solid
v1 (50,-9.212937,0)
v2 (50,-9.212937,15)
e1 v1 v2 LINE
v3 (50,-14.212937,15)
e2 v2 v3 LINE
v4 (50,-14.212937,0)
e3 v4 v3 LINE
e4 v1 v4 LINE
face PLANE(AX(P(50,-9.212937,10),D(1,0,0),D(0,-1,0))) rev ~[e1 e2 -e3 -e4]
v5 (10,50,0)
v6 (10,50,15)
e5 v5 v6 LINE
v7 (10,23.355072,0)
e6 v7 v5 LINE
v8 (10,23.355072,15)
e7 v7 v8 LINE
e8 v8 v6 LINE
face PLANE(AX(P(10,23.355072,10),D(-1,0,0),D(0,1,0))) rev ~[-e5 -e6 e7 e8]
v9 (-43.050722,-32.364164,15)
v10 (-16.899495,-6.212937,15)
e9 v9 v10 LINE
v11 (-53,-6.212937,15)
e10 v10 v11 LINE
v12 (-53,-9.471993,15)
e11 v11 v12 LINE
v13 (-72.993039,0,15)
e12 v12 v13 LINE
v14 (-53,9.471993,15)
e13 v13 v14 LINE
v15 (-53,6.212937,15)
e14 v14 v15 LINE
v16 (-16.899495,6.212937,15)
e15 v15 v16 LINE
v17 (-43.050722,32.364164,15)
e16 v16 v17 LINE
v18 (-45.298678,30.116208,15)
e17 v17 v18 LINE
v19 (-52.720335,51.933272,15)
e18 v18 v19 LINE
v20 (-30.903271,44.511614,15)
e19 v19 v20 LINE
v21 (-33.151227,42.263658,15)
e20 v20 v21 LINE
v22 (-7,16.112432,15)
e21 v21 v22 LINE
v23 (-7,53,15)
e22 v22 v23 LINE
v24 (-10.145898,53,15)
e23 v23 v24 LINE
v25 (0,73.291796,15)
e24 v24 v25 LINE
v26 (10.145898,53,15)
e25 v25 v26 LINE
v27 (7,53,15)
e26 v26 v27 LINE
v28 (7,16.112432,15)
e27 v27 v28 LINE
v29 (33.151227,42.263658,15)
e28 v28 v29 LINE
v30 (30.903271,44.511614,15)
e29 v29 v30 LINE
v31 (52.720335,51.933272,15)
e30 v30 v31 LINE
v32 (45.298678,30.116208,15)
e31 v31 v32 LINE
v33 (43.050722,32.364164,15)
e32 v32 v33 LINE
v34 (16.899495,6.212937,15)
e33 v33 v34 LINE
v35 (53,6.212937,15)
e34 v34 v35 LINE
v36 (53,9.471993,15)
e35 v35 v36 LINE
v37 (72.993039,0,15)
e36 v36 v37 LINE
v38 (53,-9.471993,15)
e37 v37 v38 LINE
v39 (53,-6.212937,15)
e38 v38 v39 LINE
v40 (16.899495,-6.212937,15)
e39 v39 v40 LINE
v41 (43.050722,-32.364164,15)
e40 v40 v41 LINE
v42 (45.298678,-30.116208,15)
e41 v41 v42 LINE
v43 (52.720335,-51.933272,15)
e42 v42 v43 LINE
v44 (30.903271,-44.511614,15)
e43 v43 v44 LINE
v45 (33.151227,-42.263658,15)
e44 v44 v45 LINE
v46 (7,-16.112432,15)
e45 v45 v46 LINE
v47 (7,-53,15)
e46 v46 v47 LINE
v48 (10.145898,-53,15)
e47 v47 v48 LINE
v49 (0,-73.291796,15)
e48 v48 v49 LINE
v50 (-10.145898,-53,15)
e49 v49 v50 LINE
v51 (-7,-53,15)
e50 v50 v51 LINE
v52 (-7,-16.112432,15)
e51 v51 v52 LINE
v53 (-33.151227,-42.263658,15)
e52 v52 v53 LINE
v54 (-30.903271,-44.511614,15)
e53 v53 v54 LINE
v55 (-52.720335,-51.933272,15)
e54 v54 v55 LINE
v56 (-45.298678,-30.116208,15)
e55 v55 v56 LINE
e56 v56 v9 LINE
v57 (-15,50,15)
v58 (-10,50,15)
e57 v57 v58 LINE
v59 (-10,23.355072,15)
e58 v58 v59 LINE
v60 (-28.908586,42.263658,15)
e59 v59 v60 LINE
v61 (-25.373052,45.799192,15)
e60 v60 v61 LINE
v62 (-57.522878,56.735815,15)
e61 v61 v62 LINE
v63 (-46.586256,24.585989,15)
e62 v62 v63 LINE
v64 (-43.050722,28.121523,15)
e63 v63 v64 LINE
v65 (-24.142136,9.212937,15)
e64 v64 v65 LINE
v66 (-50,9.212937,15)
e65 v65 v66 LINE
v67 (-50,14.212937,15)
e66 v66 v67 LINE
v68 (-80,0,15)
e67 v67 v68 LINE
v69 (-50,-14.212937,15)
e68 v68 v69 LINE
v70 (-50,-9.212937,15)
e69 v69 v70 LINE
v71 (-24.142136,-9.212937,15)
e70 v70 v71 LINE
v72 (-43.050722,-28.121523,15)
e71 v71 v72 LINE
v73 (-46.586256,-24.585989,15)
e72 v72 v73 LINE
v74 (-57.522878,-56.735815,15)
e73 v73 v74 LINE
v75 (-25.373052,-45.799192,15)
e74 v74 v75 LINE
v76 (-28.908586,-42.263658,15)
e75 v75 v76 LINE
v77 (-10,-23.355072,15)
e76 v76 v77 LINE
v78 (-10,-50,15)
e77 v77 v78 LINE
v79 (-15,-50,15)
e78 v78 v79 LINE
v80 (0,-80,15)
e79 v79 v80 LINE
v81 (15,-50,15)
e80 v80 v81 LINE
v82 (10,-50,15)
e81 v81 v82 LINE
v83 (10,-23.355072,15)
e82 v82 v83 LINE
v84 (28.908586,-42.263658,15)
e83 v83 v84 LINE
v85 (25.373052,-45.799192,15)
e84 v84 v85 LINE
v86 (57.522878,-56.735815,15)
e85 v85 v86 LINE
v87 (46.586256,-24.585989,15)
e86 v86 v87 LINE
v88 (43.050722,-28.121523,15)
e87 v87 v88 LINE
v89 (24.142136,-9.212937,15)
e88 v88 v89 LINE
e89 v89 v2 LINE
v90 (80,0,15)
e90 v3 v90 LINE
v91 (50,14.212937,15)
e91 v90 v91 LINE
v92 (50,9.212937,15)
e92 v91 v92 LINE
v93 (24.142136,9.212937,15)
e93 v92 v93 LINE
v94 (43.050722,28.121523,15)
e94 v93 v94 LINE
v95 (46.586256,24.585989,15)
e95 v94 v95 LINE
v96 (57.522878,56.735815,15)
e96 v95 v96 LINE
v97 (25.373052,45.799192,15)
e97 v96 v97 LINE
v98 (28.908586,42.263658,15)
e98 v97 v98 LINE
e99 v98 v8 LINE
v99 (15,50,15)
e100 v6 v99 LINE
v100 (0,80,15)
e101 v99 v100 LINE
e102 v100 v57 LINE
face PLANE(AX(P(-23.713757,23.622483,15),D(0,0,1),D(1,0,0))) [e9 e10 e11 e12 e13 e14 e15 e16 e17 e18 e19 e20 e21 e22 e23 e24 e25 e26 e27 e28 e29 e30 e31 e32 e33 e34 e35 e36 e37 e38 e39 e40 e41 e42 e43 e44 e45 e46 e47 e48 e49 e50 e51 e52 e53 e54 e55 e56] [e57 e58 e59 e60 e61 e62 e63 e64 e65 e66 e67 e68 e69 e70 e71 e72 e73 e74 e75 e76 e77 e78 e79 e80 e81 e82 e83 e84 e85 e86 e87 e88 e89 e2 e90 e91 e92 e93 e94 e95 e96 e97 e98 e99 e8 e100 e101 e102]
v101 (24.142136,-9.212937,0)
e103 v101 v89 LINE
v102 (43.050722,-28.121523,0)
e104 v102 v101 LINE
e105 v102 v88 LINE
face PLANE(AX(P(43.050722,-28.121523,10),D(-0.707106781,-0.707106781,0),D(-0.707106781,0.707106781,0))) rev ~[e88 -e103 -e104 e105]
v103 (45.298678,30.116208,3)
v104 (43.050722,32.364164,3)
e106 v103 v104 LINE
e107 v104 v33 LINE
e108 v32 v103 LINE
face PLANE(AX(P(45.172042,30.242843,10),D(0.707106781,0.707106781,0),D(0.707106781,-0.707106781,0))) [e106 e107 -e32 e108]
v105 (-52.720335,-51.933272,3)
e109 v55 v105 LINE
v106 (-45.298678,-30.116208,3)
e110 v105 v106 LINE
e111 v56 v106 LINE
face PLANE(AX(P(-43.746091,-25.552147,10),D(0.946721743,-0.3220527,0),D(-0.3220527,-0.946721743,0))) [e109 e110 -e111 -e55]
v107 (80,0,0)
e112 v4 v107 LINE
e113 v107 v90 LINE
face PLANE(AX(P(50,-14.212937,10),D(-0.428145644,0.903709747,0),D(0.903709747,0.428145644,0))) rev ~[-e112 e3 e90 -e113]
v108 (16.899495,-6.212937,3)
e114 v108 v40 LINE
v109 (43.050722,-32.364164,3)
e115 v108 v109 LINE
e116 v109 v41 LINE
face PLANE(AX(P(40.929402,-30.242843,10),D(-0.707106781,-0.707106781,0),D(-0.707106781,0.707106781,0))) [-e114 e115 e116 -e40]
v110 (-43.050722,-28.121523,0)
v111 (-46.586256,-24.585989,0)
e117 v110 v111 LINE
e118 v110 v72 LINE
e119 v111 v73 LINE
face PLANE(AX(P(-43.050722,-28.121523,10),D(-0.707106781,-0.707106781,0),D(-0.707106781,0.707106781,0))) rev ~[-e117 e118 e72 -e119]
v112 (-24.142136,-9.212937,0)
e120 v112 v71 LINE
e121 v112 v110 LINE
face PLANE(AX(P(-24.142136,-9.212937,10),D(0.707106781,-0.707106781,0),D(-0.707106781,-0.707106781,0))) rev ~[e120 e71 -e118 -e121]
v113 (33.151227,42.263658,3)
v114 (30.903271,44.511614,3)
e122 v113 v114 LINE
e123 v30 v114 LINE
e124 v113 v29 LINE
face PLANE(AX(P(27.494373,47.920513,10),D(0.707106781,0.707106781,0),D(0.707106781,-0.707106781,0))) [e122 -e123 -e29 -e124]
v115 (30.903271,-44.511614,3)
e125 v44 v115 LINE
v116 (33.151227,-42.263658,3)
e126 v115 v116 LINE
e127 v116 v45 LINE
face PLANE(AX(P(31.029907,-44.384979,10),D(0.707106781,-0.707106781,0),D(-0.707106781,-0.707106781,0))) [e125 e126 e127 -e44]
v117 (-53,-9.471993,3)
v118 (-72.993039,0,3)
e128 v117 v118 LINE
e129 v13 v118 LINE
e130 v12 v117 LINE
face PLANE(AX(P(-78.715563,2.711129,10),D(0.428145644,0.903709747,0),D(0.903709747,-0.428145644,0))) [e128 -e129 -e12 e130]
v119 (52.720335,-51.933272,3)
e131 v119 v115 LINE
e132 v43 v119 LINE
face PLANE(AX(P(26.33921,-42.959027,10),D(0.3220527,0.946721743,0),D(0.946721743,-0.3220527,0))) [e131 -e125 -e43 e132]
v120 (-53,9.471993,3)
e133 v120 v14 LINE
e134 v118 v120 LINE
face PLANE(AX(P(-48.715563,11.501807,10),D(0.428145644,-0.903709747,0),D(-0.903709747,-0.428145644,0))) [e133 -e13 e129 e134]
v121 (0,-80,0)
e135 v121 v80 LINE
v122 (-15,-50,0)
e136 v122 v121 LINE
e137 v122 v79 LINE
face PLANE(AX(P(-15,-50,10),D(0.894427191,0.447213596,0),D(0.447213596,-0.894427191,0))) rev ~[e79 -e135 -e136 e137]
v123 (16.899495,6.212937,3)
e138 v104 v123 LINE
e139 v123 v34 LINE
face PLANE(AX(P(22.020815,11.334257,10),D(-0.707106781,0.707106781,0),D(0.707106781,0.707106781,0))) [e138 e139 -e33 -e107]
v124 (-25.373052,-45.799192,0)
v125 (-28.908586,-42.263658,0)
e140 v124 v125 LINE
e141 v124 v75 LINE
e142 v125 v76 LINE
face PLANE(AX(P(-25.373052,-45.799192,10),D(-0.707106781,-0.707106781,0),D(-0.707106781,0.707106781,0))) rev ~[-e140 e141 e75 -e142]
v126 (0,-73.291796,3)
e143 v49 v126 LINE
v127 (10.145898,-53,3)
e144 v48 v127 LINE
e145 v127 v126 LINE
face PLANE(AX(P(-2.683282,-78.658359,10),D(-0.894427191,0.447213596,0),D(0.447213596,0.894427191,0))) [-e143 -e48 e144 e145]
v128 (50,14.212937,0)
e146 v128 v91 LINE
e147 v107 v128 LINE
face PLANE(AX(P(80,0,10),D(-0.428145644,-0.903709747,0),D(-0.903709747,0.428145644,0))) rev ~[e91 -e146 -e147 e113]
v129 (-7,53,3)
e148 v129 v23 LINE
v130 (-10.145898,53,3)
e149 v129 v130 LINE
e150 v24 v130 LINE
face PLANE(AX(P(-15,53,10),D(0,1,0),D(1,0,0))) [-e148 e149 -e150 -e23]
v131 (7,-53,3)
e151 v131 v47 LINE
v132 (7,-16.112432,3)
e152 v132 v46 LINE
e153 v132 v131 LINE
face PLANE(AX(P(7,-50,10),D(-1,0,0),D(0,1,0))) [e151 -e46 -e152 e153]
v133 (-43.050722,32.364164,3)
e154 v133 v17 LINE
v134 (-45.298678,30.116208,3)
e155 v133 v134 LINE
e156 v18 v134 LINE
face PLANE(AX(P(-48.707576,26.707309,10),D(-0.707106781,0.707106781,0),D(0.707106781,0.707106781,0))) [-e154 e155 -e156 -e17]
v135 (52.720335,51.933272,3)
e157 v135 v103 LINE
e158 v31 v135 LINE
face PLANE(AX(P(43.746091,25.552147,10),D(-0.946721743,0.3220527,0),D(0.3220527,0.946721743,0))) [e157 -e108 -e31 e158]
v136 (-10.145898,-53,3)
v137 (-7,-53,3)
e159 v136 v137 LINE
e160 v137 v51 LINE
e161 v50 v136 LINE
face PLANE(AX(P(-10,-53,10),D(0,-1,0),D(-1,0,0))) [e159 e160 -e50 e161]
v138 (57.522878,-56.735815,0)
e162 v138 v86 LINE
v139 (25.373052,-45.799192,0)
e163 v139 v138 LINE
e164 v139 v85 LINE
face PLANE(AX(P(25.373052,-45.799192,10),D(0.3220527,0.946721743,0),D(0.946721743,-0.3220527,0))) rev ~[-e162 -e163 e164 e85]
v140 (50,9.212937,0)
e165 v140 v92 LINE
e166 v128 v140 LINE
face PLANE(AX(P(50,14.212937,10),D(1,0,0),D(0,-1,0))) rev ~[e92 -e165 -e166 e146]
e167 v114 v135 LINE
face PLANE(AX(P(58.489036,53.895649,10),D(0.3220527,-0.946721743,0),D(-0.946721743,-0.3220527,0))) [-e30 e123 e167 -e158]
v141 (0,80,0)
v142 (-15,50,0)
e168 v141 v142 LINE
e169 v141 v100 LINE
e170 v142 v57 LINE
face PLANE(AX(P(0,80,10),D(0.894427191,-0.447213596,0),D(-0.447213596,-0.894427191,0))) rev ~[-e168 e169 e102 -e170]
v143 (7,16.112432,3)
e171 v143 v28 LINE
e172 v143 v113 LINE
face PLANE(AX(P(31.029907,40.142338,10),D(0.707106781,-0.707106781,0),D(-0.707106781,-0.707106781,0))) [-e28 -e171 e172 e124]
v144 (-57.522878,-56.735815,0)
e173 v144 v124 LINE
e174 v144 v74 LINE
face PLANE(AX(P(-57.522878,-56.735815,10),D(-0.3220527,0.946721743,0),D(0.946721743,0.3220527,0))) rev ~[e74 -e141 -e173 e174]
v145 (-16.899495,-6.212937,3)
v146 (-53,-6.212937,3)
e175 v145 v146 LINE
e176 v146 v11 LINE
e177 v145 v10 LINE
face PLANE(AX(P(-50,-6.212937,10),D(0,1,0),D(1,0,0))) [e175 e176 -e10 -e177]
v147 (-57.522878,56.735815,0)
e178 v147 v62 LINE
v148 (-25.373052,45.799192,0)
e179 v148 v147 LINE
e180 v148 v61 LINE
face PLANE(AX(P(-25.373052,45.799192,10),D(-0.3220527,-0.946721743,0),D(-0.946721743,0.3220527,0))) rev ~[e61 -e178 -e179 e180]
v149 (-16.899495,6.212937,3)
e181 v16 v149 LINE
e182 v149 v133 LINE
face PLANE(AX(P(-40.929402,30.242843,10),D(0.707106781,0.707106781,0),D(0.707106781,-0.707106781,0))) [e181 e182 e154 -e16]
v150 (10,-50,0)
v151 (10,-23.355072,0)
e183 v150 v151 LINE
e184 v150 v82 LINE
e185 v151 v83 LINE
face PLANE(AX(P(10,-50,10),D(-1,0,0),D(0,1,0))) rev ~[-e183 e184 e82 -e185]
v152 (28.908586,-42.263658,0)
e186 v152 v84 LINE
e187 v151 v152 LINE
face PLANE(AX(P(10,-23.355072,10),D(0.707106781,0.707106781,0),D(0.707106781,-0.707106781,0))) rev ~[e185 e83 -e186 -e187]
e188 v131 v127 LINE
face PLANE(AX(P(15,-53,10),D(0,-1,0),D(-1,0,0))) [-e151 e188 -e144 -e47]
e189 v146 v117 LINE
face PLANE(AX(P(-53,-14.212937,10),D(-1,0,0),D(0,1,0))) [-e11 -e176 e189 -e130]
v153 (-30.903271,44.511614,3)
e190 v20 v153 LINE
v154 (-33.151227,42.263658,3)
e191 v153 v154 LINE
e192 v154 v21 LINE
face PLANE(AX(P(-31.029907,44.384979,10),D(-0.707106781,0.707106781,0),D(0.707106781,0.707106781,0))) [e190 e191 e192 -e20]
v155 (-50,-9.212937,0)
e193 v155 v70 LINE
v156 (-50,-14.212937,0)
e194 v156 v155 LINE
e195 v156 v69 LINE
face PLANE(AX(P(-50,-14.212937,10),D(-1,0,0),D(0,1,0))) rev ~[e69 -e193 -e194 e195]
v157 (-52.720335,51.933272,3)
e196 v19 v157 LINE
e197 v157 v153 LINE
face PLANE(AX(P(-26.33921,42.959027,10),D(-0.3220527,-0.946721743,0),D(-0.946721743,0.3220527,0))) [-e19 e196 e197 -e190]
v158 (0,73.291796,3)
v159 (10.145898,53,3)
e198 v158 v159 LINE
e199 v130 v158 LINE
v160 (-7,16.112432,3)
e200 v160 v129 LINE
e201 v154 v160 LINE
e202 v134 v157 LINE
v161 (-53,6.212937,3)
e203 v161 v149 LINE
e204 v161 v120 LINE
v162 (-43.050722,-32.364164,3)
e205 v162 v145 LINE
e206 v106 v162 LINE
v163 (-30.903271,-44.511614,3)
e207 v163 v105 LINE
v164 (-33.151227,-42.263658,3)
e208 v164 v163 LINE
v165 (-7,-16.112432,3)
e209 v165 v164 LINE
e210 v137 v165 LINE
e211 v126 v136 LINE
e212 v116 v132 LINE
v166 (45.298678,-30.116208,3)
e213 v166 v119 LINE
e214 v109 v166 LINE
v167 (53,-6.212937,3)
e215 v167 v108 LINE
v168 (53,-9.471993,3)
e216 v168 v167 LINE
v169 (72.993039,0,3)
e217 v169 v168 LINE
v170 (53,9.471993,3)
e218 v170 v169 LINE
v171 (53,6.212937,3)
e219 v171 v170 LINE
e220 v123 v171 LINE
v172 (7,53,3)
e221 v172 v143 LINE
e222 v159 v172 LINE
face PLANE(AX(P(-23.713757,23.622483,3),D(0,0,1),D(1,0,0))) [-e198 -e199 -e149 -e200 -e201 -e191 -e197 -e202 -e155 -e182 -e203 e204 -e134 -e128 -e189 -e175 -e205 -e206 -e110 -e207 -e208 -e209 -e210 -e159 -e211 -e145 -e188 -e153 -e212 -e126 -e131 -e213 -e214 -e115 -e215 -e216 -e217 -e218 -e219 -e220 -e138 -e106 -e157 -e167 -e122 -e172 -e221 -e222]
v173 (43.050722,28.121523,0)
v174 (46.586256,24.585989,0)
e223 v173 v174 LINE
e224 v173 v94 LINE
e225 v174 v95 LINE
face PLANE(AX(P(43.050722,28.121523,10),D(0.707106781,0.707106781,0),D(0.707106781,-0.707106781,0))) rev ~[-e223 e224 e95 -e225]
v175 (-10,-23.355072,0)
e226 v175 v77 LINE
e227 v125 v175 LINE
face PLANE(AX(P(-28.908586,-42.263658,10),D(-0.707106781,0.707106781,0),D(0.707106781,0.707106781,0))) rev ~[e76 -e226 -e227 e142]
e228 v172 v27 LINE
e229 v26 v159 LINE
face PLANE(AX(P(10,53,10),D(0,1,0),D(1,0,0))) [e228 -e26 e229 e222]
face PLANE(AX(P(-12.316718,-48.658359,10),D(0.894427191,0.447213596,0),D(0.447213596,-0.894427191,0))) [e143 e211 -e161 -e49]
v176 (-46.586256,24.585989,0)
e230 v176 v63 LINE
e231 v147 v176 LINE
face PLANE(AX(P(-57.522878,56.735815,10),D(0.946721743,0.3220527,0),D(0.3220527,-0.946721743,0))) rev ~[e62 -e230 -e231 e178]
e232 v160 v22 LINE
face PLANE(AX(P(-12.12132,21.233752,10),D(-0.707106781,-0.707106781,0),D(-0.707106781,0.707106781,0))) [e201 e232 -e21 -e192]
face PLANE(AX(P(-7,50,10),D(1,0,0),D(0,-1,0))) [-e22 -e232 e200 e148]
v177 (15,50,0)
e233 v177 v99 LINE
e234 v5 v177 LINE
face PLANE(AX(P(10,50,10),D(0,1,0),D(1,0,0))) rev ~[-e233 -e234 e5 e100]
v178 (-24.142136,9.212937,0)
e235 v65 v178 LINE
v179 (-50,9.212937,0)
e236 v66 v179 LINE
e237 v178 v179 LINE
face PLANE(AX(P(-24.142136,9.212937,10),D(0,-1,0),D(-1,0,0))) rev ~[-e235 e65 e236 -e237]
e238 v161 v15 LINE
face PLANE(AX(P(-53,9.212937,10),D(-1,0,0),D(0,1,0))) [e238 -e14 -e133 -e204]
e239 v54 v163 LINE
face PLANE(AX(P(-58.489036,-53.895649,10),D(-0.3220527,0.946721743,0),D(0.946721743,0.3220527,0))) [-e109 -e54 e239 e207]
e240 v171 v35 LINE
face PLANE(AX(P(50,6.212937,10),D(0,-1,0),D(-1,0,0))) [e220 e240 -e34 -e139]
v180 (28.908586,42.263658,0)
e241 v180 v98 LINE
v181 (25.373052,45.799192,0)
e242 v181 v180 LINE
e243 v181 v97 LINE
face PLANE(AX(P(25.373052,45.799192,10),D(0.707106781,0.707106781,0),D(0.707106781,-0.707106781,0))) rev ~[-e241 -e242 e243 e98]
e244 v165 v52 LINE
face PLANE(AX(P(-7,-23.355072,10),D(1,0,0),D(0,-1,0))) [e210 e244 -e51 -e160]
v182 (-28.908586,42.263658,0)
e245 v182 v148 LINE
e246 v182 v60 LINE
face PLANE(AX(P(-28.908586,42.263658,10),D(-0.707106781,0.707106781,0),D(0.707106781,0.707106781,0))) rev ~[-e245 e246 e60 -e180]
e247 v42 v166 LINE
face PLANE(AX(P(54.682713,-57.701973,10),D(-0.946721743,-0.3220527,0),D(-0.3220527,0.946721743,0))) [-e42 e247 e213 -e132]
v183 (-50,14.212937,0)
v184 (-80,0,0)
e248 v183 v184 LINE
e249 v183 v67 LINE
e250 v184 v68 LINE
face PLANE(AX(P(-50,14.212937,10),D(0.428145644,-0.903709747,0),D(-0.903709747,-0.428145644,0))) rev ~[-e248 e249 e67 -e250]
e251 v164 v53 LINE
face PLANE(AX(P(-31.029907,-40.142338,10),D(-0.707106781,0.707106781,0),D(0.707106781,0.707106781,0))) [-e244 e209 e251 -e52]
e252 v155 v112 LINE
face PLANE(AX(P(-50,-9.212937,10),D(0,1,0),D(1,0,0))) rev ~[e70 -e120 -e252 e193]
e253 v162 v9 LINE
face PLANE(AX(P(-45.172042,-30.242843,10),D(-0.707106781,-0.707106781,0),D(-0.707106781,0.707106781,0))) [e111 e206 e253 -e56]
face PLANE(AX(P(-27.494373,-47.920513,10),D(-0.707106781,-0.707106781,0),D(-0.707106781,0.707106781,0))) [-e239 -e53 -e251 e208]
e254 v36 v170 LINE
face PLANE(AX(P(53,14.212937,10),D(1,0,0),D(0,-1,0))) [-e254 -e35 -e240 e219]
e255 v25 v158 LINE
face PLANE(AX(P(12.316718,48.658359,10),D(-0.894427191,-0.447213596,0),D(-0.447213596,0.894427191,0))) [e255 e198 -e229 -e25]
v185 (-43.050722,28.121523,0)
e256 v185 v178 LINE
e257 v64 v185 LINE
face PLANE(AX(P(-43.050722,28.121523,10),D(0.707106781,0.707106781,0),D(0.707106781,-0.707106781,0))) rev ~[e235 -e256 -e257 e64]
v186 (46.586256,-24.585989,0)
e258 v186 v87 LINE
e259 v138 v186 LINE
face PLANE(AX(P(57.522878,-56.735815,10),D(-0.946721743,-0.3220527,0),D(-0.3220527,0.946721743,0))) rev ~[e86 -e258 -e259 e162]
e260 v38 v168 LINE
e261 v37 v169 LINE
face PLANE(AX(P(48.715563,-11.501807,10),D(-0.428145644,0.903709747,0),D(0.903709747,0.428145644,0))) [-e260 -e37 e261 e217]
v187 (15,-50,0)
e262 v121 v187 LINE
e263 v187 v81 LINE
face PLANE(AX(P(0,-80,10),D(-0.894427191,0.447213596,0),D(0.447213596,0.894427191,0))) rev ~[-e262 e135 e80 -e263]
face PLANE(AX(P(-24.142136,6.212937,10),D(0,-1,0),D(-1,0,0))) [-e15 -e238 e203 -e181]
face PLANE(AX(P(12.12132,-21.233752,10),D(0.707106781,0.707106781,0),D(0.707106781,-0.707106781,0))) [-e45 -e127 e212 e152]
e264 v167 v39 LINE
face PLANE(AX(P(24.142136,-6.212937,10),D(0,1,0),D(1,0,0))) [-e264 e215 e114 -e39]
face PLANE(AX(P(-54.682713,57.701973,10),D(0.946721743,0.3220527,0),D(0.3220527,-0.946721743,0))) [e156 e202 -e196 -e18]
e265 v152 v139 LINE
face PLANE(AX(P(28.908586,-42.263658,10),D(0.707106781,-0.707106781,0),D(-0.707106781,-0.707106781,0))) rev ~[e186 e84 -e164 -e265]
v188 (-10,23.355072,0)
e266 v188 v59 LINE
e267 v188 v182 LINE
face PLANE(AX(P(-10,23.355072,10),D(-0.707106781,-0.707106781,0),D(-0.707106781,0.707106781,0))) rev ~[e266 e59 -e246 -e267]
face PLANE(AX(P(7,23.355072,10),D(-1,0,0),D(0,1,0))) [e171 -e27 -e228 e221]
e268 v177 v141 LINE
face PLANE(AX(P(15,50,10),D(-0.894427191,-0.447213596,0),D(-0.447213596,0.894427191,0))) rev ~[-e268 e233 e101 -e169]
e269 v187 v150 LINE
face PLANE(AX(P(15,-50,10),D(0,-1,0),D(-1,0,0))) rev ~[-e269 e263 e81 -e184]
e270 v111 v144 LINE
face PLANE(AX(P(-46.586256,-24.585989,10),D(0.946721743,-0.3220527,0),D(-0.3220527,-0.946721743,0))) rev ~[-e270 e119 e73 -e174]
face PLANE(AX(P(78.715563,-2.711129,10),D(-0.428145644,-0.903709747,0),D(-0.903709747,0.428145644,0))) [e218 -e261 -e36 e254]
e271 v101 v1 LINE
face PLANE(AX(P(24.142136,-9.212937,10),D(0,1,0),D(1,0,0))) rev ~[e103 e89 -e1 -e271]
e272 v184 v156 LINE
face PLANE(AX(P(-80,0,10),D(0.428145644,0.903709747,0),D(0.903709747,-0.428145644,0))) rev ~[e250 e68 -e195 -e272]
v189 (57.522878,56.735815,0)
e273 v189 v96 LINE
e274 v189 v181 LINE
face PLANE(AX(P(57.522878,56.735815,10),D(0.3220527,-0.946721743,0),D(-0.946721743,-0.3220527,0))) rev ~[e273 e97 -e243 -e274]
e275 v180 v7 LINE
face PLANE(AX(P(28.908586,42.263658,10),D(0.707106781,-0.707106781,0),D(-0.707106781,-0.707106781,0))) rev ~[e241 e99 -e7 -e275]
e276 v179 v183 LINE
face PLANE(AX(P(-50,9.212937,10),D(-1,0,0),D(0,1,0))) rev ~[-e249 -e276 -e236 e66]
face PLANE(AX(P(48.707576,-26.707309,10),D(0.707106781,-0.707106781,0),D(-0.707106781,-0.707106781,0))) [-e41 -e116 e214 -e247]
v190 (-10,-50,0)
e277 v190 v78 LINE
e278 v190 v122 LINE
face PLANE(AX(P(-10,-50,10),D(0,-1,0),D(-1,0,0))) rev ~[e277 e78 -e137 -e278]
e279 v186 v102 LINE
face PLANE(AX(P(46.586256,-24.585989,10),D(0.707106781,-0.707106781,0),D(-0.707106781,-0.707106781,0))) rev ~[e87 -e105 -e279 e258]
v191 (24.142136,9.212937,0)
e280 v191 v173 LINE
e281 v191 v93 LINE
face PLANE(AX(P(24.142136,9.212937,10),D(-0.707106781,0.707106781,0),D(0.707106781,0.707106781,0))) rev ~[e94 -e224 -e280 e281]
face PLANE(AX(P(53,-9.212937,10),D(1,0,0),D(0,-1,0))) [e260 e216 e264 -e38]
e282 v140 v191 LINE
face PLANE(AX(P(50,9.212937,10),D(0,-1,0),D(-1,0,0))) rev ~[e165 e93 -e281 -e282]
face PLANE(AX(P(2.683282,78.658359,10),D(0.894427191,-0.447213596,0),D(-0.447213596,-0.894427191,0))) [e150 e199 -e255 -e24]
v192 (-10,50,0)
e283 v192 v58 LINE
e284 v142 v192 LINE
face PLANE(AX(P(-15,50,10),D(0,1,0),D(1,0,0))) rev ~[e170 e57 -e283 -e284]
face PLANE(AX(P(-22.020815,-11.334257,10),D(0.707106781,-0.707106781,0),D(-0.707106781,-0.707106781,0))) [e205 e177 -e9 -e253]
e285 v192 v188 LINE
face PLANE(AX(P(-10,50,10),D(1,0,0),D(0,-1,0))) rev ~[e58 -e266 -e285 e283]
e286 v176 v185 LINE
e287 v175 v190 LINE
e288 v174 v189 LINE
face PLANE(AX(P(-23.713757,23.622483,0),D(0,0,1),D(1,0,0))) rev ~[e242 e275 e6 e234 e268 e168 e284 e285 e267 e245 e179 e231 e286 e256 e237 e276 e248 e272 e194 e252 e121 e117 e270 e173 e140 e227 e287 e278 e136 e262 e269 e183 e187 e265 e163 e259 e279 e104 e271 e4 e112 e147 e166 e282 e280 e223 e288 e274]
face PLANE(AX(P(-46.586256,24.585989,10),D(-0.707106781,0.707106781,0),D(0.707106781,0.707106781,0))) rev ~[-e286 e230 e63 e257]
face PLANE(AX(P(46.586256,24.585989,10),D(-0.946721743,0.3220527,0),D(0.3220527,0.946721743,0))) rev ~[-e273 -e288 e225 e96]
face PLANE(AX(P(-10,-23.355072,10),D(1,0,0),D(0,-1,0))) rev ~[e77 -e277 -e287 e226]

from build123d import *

# Parameters (mm, degrees)
F1_DEPTH = 10
F2_DEPTH = 5
F3_T     = -3


with BuildPart() as f1:
    # F0 (on Top) → F1 (new body)
    with BuildSketch(Plane.XY):
        Polygon((-24.1421356237, 9.2129365882), (-50, 9.2129365882), (-50, 14.2129365882), (-80, 0), (-50, 0), (0, 0), (0, 50), (0, 80), (-15, 50), (-10, 50), (-10, 23.3550722119), (-10, 9.2129365882), align=None)
        Polygon((-43.0507218531, 28.1215228176), (-24.1421356237, 9.2129365882), (-10, 9.2129365882), (-35.9796540413, 35.1925906294), align=None)
        Polygon((-35.9796540413, 35.1925906294), (-10, 9.2129365882), (-10, 23.3550722119), (-28.9085862294, 42.2636584413), align=None)
        Polygon((-46.5862557591, 24.5859889116), (-43.0507218531, 28.1215228176), (-35.9796540413, 35.1925906294), (-57.5228781318, 56.73581472), align=None)
        Polygon((-50, 0), (-80, 0), (-50, -14.2129365882), (-50, -9.2129365882), (-24.1421356237, -9.2129365882), (-10, -9.2129365882), (-10, -23.3550722119), (-10, -50), (-15, -50), (0, -80), (0, -50), (0, 0), align=None)
        Polygon((-57.5228781318, 56.73581472), (-35.9796540413, 35.1925906294), (-28.9085862294, 42.2636584413), (-25.3730523235, 45.7991923472), align=None)
        Polygon((0, 50), (0, 0), (50, 0), (80, 0), (50, 14.2129365882), (50, 9.2129365882), (24.1421356237, 9.2129365882), (10, 9.2129365882), (10, 23.3550722119), (10, 50), (15, 50), (0, 80), align=None)
        Polygon((50, 0), (0, 0), (0, -50), (0, -80), (15, -50), (10, -50), (10, -23.3550722119), (10, -9.2129365882), (24.1421356237, -9.2129365882), (50, -9.2129365882), (50, -14.2129365882), (80, 0), align=None)
        Polygon((-10, -9.2129365882), (-24.1421356237, -9.2129365882), (-43.0507218531, -28.1215228176), (-35.9796540413, -35.1925906294), align=None)
        Polygon((-10, -23.3550722119), (-10, -9.2129365882), (-35.9796540413, -35.1925906294), (-28.9085862294, -42.2636584413), align=None)
        Polygon((-35.9796540413, -35.1925906294), (-43.0507218531, -28.1215228176), (-46.5862557591, -24.5859889116), (-57.5228781318, -56.73581472), align=None)
        Polygon((-28.9085862294, -42.2636584413), (-35.9796540413, -35.1925906294), (-57.5228781318, -56.73581472), (-25.3730523235, -45.7991923472), align=None)
        Polygon((28.9085862294, 42.2636584413), (10, 23.3550722119), (10, 9.2129365882), (35.9796540413, 35.1925906294), align=None)
        Polygon((10, 9.2129365882), (24.1421356237, 9.2129365882), (43.0507218531, 28.1215228176), (35.9796540413, 35.1925906294), align=None)
        Polygon((43.0507218531, -28.1215228176), (24.1421356237, -9.2129365882), (10, -9.2129365882), (35.9796540413, -35.1925906294), align=None)
        Polygon((10, -9.2129365882), (10, -23.3550722119), (28.9085862294, -42.2636584413), (35.9796540413, -35.1925906294), align=None)
        Polygon((25.3730523235, 45.7991923472), (28.9085862294, 42.2636584413), (35.9796540413, 35.1925906294), (57.5228781318, 56.73581472), align=None)
        Polygon((35.9796540413, 35.1925906294), (43.0507218531, 28.1215228176), (46.5862557591, 24.5859889116), (57.5228781318, 56.73581472), align=None)
        Polygon((46.5862557591, -24.5859889116), (43.0507218531, -28.1215228176), (35.9796540413, -35.1925906294), (57.5228781318, -56.73581472), align=None)
        Polygon((35.9796540413, -35.1925906294), (28.9085862294, -42.2636584413), (25.3730523235, -45.7991923472), (57.5228781318, -56.73581472), align=None)
    extrude(amount=F1_DEPTH)

    # F2 (add): a face of the model
    f2_faces = [f1.faces().sort_by_distance(p)[0] for p in [
        (0, 0, 10),
    ]]
    extrude(f2_faces, amount=F2_DEPTH)

    # F3
    f3_openings = [f1.faces().sort_by_distance(p)[0] for p in [
        (0, 0, 15),
    ]]
    offset(amount=F3_T, openings=f3_openings, kind=Kind.INTERSECTION)


solid = f1.part
